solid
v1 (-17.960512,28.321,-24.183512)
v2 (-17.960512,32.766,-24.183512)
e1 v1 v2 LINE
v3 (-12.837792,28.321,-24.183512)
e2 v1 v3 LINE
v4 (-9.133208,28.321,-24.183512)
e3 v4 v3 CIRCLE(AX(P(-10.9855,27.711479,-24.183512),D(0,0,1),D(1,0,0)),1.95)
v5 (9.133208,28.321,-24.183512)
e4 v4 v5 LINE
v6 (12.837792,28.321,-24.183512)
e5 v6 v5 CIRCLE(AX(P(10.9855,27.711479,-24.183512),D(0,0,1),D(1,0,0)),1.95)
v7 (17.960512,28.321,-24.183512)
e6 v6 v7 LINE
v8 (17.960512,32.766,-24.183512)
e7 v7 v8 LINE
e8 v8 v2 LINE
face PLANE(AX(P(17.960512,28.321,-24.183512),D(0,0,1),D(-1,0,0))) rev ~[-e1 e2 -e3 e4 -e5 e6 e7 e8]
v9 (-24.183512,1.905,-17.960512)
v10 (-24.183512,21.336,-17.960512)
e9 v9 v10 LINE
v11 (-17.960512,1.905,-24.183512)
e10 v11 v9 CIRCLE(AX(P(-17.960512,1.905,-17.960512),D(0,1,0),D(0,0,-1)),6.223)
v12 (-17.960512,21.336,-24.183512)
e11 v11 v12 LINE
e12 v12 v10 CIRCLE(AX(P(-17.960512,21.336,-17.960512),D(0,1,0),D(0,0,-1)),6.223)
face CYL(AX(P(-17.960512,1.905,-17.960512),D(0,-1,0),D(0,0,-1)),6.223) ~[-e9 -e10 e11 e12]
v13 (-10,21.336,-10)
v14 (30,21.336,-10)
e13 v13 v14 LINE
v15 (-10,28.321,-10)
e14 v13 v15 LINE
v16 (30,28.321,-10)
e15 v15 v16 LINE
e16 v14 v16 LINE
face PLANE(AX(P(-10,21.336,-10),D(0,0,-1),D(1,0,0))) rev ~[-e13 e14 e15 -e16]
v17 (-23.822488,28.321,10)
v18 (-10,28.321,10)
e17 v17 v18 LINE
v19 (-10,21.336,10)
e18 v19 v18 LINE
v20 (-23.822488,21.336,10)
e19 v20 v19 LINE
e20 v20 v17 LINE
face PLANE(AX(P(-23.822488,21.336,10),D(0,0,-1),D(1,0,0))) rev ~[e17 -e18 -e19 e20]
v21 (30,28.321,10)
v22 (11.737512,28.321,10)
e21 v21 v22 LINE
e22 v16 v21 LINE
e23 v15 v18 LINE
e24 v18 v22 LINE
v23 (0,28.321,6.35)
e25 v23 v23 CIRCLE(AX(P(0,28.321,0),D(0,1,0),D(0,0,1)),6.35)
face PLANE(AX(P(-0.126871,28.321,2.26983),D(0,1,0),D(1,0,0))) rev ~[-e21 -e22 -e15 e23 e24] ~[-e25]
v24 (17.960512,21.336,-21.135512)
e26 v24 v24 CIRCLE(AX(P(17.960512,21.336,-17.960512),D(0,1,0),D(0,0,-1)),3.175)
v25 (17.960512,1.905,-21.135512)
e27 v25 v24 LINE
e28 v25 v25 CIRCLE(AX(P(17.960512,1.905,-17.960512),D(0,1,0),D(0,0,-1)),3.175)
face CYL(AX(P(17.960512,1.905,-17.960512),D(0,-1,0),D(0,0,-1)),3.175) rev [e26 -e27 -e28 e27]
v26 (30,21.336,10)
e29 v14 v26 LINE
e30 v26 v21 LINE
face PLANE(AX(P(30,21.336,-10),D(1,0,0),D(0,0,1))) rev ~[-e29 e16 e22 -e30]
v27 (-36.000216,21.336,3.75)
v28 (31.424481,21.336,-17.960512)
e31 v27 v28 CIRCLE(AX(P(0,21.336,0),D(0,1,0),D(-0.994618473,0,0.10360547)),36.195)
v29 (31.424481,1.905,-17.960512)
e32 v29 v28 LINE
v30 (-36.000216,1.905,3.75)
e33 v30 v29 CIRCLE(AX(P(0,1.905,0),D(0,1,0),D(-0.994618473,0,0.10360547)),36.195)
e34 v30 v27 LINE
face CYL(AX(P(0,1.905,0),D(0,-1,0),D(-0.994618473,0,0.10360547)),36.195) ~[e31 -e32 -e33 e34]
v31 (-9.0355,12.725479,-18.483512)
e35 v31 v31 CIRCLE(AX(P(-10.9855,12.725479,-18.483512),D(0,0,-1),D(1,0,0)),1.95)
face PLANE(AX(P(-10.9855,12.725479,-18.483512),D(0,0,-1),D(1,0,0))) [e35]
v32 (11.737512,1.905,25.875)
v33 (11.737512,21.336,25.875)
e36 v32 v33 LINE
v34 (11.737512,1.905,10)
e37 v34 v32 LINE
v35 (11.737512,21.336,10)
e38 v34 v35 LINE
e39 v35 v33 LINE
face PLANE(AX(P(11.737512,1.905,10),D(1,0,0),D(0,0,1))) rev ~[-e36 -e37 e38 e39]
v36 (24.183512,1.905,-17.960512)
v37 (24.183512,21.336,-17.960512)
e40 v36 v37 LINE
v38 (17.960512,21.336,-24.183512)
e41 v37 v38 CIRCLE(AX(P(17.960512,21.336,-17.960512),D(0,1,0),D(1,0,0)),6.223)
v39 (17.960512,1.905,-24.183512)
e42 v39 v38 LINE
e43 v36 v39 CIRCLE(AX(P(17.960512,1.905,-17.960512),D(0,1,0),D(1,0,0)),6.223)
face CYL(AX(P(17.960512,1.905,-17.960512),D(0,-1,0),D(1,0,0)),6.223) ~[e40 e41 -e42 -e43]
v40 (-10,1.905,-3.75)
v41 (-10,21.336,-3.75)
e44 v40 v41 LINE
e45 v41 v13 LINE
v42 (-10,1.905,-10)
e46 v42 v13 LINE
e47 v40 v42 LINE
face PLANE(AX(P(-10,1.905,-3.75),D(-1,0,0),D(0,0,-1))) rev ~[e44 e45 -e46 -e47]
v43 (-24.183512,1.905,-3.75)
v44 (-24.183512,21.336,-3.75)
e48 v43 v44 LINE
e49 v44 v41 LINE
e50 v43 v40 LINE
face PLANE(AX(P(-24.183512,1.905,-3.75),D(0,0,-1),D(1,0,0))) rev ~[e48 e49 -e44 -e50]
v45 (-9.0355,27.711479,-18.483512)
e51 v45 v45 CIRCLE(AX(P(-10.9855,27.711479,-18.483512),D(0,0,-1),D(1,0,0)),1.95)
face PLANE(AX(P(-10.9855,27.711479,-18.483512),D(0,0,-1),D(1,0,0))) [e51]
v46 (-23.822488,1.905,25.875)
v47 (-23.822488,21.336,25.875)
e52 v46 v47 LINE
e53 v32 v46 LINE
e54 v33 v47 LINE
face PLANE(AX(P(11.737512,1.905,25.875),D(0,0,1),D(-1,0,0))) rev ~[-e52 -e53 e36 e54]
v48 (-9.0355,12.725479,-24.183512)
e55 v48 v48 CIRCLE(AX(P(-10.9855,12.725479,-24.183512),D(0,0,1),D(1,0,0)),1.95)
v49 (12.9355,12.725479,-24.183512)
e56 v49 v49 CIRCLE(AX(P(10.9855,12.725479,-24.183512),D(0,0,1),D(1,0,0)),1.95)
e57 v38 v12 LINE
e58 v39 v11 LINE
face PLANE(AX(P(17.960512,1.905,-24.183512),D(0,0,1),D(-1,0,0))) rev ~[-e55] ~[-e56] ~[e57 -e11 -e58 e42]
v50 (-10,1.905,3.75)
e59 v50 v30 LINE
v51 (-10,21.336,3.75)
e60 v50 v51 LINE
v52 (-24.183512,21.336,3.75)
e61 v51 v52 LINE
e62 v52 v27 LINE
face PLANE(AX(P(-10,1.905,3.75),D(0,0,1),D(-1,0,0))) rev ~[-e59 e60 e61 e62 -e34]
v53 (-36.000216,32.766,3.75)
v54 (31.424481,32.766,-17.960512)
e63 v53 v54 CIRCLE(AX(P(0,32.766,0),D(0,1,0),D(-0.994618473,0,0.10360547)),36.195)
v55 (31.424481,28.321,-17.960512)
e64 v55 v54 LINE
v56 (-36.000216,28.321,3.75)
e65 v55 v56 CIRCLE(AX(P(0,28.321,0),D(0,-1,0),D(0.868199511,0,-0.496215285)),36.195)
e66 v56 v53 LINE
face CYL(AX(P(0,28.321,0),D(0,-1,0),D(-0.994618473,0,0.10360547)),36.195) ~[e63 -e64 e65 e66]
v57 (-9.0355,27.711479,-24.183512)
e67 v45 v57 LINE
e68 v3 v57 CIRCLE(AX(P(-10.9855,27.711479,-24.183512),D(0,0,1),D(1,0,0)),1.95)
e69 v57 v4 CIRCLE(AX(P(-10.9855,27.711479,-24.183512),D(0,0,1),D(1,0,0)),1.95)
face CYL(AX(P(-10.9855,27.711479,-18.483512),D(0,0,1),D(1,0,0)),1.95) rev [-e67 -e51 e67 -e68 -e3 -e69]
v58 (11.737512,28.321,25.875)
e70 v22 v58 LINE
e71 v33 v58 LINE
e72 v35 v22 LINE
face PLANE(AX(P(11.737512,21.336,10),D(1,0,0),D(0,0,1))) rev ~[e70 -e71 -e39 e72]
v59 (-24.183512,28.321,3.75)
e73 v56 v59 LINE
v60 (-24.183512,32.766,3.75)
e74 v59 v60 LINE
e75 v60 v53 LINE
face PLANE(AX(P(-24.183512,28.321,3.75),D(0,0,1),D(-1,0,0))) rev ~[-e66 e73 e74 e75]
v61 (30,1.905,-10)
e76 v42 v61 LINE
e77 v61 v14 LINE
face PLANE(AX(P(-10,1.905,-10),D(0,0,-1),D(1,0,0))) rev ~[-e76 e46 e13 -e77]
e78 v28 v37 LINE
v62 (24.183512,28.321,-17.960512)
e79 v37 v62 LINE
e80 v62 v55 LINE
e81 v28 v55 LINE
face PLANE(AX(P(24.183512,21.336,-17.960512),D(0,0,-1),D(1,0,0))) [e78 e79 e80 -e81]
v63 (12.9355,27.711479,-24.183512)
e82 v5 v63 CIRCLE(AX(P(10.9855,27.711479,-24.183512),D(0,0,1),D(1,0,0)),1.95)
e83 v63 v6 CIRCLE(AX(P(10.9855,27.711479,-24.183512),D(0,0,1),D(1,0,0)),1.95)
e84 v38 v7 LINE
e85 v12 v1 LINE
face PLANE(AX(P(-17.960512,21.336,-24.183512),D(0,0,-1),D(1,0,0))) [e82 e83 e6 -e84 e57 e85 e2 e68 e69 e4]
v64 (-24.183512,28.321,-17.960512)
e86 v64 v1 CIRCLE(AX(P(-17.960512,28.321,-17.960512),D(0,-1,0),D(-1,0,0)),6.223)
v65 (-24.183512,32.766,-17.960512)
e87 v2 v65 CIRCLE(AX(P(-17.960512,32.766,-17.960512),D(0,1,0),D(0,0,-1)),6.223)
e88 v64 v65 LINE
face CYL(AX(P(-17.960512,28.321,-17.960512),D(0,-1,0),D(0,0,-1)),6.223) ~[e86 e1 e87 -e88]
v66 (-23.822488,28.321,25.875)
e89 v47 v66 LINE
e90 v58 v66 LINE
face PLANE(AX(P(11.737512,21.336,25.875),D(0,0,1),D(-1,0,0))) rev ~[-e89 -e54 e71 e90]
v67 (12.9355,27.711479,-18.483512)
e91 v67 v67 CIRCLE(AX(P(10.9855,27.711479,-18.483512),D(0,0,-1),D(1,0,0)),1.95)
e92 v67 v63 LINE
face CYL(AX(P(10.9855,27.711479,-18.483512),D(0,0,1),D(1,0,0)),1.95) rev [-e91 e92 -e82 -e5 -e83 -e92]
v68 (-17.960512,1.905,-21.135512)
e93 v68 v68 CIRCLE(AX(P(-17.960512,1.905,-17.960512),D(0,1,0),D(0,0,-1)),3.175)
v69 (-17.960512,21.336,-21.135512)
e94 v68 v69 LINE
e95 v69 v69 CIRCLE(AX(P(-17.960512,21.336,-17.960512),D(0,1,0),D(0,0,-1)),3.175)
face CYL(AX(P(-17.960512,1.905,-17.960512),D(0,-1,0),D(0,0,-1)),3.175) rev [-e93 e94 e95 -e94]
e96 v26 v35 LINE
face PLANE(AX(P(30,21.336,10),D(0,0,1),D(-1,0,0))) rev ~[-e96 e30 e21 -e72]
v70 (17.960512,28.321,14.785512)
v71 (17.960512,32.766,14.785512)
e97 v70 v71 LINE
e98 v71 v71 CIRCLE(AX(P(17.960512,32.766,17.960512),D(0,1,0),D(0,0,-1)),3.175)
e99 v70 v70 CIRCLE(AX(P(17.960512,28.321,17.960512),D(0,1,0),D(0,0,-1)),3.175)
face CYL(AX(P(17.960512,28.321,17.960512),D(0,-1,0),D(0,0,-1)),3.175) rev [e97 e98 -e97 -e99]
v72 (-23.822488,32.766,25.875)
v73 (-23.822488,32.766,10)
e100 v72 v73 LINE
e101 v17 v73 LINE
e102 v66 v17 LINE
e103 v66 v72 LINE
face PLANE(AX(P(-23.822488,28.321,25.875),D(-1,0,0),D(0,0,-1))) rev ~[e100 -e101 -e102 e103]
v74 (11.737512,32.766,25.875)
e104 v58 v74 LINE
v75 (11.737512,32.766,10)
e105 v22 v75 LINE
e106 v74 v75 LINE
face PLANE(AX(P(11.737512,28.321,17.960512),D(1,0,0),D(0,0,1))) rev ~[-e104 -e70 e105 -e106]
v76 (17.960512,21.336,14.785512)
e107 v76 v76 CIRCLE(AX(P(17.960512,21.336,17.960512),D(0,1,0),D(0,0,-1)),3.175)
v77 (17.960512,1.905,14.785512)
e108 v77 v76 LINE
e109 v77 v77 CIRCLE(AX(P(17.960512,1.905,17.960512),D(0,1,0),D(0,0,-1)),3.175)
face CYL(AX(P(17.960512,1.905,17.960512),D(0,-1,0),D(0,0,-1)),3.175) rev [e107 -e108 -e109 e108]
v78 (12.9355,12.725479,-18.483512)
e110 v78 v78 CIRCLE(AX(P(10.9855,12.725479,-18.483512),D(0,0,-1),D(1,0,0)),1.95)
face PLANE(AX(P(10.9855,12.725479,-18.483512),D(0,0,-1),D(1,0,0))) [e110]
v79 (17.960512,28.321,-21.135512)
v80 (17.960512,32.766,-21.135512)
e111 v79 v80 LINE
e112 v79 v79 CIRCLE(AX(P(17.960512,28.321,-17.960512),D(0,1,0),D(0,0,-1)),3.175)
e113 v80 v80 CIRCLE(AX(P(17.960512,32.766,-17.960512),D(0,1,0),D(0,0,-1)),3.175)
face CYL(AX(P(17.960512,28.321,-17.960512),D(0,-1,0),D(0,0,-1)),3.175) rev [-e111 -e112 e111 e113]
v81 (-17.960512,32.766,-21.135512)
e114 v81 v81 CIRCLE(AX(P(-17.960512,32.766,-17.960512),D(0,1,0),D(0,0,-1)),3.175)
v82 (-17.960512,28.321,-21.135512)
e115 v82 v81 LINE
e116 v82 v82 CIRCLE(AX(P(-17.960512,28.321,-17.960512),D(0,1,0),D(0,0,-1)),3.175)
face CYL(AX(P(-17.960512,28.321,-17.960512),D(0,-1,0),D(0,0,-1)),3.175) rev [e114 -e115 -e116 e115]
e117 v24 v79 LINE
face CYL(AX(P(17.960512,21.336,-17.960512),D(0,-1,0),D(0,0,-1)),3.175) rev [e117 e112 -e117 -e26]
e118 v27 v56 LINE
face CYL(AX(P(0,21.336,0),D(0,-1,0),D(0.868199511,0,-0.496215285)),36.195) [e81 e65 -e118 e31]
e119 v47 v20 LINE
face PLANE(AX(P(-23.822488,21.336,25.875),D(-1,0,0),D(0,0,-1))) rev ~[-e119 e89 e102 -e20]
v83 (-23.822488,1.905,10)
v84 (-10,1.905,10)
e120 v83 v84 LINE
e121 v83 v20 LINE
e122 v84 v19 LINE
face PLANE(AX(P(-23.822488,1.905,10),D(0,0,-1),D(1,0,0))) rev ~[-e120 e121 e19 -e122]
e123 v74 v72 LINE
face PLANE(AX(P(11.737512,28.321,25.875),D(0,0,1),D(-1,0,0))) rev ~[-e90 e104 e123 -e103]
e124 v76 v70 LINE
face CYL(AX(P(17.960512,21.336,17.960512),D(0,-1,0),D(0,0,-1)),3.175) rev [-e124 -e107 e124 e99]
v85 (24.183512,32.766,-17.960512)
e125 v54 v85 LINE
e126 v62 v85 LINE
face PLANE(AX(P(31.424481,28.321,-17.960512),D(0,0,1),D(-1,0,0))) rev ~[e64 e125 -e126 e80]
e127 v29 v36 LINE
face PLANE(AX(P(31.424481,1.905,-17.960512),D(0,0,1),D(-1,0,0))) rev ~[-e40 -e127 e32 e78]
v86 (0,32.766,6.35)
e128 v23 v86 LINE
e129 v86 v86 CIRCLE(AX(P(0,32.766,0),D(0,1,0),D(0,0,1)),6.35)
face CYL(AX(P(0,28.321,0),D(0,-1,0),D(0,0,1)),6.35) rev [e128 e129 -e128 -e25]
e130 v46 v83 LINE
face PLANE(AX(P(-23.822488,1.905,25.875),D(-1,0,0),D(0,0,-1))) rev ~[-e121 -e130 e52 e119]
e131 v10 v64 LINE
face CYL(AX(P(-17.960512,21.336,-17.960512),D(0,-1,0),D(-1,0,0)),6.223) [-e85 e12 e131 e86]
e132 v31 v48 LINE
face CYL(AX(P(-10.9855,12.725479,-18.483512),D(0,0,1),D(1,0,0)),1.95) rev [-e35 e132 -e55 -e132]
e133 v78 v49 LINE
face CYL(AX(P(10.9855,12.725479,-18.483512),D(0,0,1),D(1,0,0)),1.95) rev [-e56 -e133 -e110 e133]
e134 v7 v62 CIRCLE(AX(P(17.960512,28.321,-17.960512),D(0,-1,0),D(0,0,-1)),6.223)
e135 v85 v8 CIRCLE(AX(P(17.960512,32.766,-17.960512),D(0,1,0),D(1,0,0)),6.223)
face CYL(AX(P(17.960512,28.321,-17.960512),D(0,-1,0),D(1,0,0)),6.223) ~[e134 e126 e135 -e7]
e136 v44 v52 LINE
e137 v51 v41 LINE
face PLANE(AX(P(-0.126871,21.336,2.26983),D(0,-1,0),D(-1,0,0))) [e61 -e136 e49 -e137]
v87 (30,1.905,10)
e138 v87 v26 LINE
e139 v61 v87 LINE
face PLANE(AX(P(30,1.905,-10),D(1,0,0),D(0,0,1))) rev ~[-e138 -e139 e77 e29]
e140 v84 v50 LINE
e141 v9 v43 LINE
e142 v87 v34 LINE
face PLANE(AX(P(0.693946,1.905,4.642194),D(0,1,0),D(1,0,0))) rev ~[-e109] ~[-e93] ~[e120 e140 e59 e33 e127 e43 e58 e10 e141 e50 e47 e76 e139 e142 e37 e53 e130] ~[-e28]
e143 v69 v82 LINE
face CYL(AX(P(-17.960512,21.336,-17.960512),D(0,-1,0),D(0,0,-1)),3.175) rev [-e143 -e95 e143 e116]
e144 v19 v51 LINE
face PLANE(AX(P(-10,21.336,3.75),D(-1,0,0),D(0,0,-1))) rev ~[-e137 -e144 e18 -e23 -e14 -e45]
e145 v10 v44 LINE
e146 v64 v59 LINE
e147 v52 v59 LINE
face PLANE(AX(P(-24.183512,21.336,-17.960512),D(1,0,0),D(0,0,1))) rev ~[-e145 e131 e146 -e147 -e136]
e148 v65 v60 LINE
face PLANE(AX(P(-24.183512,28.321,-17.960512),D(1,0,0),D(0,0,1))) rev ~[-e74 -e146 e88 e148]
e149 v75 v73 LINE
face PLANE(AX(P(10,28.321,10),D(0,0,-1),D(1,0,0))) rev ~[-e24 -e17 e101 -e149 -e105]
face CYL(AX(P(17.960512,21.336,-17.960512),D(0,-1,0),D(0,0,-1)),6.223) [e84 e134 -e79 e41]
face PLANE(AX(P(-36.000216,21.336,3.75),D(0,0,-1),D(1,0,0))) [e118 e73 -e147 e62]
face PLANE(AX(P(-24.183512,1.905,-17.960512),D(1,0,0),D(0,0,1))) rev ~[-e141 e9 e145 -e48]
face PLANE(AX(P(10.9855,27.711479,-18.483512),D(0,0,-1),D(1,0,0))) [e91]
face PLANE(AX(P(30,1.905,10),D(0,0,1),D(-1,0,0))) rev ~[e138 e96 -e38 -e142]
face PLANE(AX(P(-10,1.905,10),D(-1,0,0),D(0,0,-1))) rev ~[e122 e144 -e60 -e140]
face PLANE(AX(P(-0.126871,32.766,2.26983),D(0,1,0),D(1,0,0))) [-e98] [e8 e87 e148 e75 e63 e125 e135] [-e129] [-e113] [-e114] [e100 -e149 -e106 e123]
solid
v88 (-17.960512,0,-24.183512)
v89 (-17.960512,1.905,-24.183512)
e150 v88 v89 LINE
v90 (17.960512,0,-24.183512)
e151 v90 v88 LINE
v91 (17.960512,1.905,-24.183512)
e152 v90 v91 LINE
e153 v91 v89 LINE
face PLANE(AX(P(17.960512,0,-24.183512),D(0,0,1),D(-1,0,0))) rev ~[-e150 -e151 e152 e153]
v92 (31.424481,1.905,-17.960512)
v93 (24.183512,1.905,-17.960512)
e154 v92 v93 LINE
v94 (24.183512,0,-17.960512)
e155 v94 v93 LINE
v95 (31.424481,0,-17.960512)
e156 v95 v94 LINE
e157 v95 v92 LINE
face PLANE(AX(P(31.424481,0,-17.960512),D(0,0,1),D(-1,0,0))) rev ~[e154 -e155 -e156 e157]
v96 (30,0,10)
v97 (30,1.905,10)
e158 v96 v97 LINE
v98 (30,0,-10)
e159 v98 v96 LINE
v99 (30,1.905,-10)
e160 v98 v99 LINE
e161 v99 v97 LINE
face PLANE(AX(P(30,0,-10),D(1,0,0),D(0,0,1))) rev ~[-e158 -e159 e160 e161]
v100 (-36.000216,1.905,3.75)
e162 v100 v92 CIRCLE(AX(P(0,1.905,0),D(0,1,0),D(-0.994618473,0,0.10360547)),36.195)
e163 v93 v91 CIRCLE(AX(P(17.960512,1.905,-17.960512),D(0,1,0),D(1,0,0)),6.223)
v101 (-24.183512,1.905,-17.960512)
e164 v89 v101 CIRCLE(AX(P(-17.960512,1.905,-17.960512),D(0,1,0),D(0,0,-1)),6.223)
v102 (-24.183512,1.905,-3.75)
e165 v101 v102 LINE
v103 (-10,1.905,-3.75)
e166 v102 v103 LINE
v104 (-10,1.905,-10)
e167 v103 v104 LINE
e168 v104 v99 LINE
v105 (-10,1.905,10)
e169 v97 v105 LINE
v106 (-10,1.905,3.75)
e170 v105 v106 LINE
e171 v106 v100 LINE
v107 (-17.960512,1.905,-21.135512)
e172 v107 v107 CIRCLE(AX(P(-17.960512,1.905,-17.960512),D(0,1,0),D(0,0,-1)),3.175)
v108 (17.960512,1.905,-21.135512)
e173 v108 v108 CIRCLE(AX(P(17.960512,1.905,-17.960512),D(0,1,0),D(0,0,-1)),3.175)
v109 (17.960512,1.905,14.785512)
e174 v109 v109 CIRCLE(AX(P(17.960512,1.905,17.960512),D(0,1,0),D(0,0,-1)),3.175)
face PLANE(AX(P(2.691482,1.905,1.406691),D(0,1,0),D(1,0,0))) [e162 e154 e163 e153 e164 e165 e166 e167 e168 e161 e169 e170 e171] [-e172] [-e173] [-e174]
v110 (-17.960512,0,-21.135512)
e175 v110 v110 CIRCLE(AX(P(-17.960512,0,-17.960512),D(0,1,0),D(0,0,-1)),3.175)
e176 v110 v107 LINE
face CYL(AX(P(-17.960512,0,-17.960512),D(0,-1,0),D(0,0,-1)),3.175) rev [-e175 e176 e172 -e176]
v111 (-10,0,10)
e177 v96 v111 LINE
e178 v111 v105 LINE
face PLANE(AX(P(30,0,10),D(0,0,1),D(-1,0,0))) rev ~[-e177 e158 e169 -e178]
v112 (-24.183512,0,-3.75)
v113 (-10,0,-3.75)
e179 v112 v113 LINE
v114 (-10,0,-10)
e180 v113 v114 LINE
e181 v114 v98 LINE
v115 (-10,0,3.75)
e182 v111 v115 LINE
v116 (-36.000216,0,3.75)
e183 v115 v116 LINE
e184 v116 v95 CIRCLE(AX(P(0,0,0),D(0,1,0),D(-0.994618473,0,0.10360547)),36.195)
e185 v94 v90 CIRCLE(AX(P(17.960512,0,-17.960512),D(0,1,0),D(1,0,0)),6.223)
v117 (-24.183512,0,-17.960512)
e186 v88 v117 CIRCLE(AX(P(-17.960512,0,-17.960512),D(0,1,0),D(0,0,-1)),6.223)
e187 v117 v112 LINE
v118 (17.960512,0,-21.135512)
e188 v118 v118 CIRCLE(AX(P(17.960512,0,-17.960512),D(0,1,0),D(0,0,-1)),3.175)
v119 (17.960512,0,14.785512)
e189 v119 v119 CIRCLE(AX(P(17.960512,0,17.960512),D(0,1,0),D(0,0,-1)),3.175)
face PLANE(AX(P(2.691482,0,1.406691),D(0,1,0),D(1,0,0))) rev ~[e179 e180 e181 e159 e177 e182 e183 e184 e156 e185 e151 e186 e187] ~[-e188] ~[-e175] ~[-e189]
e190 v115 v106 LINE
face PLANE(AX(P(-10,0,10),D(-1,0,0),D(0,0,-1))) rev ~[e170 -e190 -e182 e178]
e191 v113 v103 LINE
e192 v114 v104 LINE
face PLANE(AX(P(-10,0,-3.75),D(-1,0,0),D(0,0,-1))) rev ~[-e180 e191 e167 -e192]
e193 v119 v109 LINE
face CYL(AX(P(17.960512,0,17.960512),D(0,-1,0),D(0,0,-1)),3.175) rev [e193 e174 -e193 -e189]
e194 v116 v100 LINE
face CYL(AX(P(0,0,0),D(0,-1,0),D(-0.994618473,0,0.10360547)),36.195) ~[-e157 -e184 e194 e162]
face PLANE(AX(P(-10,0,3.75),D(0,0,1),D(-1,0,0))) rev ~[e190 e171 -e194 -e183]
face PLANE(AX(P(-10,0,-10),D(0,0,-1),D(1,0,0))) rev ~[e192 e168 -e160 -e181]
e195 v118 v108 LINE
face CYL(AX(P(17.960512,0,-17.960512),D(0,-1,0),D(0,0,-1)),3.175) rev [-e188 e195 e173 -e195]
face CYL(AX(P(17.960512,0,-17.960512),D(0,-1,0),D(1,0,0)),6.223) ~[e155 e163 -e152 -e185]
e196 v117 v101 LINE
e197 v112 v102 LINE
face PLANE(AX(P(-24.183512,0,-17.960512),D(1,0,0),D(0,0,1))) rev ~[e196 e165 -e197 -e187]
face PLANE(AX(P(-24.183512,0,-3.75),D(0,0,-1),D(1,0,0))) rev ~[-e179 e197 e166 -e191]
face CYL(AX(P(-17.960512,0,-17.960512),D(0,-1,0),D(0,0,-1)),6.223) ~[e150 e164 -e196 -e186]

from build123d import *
from build123d.topology import SkipClean

# Parameters (mm, degrees)
SKETCH2_R               = 3.175
BOSS_EXTRUDE1_DEPTH     = 1.905
SKETCH3_R               = 3.175
BOSS_EXTRUDE2_DEPTH     = 19.431
SKETCH4_R               = 3.175
BOSS_EXTRUDE3_DEPTH     = 6.985
SKETCH5_R               = 6.35
SKETCH5_R_2             = 3.175
BOSS_EXTRUDE4_DEPTH     = 4.445
CUT_EXTRUDE1_DEPTH      = 78.648267988
CUT_EXTRUDE1_DEPTH_BACK = 5.7
SKETCH6_R               = 1.95


with BuildPart() as part:
    # Sketch2 → Boss-Extrude1 (new body)
    with BuildSketch(Plane(origin=(0, 0, 0), x_dir=(1, 0, 0), z_dir=(0, 1, 0))):
        with BuildLine():
            Line((-24.183512242, 17.960512242), (-24.183512242, 3.75))
            Line((-24.183512242, 3.75), (-10, 3.75))
            Line((-10, 3.75), (-10, 10))
            Line((-10, 10), (30, 10))
            Line((30, 10), (30, -10))
            Line((30, -10), (11.737512242, -10))
            Line((11.737512242, -10), (10, -10))
            Line((10, -10), (0, -10))
            Line((0, -10), (-10, -10))
            Line((-10, -10), (-10, -3.75))
            Line((-10, -3.75), (-24.183512242, -3.75))
            Line((-24.183512242, -3.75), (-36.000215624, -3.75))
            ThreePointArc((-36.000215624, -3.75), (11.093733439, -34.452969442), (31.4244813, 17.960512242))
            Line((31.4244813, 17.960512242), (24.183512242, 17.960512242))
            ThreePointArc((24.183512242, 17.960512242), (22.360837741, 22.360837741), (17.960512242, 24.183512242))
            Line((17.960512242, 24.183512242), (-17.960512242, 24.183512242))
            ThreePointArc((-17.960512242, 24.183512242), (-22.360837741, 22.360837741), (-24.183512242, 17.960512242))
        make_face()
        with Locations(Location((-17.960512242, 17.960512242, 0), (0, 0, 90))):
            Circle(SKETCH2_R, mode=Mode.SUBTRACT)
        with Locations(Location((17.960512242, 17.960512242, 0), (0, 0, 90))):
            Circle(SKETCH2_R, mode=Mode.SUBTRACT)
        with Locations(Location((17.960512242, -17.960512242, 0), (0, 0, 90))):
            Circle(SKETCH2_R, mode=Mode.SUBTRACT)
    extrude(amount=BOSS_EXTRUDE1_DEPTH)


with BuildPart() as body_2:
    # Sketch3 → Boss-Extrude2 (new body)
    with BuildSketch(Plane(origin=(0, 1.905, 0), x_dir=(1, 0, 0), z_dir=(0, 1, 0))):
        with BuildLine():
            Line((-23.822487758, -25.875), (-23.822487758, -10))
            Line((-23.822487758, -10), (-17.960512242, -10))
            Line((-17.960512242, -10), (-10, -10))
            Line((-10, -10), (-10, -3.75))
            Line((-10, -3.75), (-36.000215624, -3.75))
            ThreePointArc((-36.000215624, -3.75), (11.093733439, -34.452969442), (31.4244813, 17.960512242))
            Line((31.4244813, 17.960512242), (24.183512242, 17.960512242))
            ThreePointArc((24.183512242, 17.960512242), (22.360837741, 22.360837741), (17.960512242, 24.183512242))
            Line((17.960512242, 24.183512242), (-17.960512242, 24.183512242))
            ThreePointArc((-17.960512242, 24.183512242), (-22.360837741, 22.360837741), (-24.183512242, 17.960512242))
            Line((-24.183512242, 17.960512242), (-24.183512242, 3.75))
            Line((-24.183512242, 3.75), (-10, 3.75))
            Line((-10, 3.75), (-10, 10))
            Line((-10, 10), (30, 10))
            Line((30, 10), (30, -10))
            Line((30, -10), (11.737512242, -10))
            Line((11.737512242, -10), (11.737512242, -11.737512242))
            Line((11.737512242, -11.737512242), (11.737512242, -17.960512242))
            Line((11.737512242, -17.960512242), (11.737512242, -25.875))
            Line((11.737512242, -25.875), (-23.822487758, -25.875))
        make_face()
        with Locations(Location((17.960512242, -17.960512242, 0), (0, 0, 90))):
            Circle(SKETCH3_R, mode=Mode.SUBTRACT)
        with Locations(Location((-17.960512242, 17.960512242, 0), (0, 0, 90))):
            Circle(SKETCH3_R, mode=Mode.SUBTRACT)
        with Locations(Location((17.960512242, 17.960512242, 0), (0, 0, 90))):
            Circle(SKETCH3_R, mode=Mode.SUBTRACT)
    extrude(amount=BOSS_EXTRUDE2_DEPTH)

    # Sketch4 → Boss-Extrude3 (add)
    with SkipClean():  # the faces are left unmerged after this step: merging them gives an invalid solid
        with BuildSketch(Plane(origin=(0, 21.336, 0), x_dir=(1, 0, 0), z_dir=(0, 1, 0))):
            with BuildLine():
                Line((-24.183512242, -3.75), (-24.183512242, 3.75))
                Line((-24.183512242, 3.75), (-24.183512242, 17.960512242))
                ThreePointArc((-24.183512242, 17.960512242), (-22.360837741, 22.360837741), (-17.960512242, 24.183512242))
                Line((-17.960512242, 24.183512242), (17.960512242, 24.183512242))
                ThreePointArc((17.960512242, 24.183512242), (22.360837741, 22.360837741), (24.183512242, 17.960512242))
                Line((24.183512242, 17.960512242), (31.4244813, 17.960512242))
                ThreePointArc((31.4244813, 17.960512242), (11.093733439, -34.452969442), (-36.000215624, -3.75))
                Line((-36.000215624, -3.75), (-24.183512242, -3.75))
            make_face()
            with Locations(Location((17.960512242, -17.960512242, 0), (0, 0, 90))):
                Circle(SKETCH4_R, mode=Mode.SUBTRACT)
            with Locations(Location((17.960512242, 17.960512242, 0), (0, 0, 90))):
                Circle(SKETCH4_R, mode=Mode.SUBTRACT)
            with Locations(Location((-17.960512242, 17.960512242, 0), (0, 0, 90))):
                Circle(SKETCH4_R, mode=Mode.SUBTRACT)
            Polygon((-10, -3.75), (-10, 0), (-10, 3.75), (-10, 10), (30, 10), (30, -10), (11.737512242, -10), (11.737512242, -25.875), (-23.822487758, -25.875), (-23.822487758, -10), (-10, -10), align=None, mode=Mode.SUBTRACT)
        extrude(amount=BOSS_EXTRUDE3_DEPTH)

    # Sketch5 → Boss-Extrude4 (add)
    with SkipClean():  # the faces are left unmerged after this step: merging them gives an invalid solid
        with BuildSketch(Plane(origin=(0, 28.321, 0), x_dir=(1, 0, 0), z_dir=(0, 1, 0))):
            with BuildLine():
                Line((-24.183512242, 17.960512242), (-24.183512242, -3.75))
                Line((-24.183512242, -3.75), (-36.000215624, -3.75))
                ThreePointArc((-36.000215624, -3.75), (11.093733439, -34.452969442), (31.4244813, 17.960512242))
                Line((31.4244813, 17.960512242), (24.183512242, 17.960512242))
                ThreePointArc((24.183512242, 17.960512242), (22.360837741, 22.360837741), (17.960512242, 24.183512242))
                Line((17.960512242, 24.183512242), (-17.960512242, 24.183512242))
                ThreePointArc((-17.960512242, 24.183512242), (-22.360837741, 22.360837741), (-24.183512242, 17.960512242))
            make_face()
            with Locations(Location((0, 0, 0), (0, 0, 270))):
                Circle(SKETCH5_R, mode=Mode.SUBTRACT)
            with Locations(Location((17.960512242, -17.960512242, 0), (0, 0, 90))):
                Circle(SKETCH5_R_2, mode=Mode.SUBTRACT)
            with Locations(Location((17.960512242, 17.960512242, 0), (0, 0, 90))):
                Circle(SKETCH5_R_2, mode=Mode.SUBTRACT)
            with Locations(Location((-17.960512242, 17.960512242, 0), (0, 0, 90))):
                Circle(SKETCH5_R_2, mode=Mode.SUBTRACT)
            Polygon((11.737512242, -25.875), (-23.822487758, -25.875), (-23.822487758, -10), (-17.960512242, -10), (-10, -10), (0, -10), (10, -10), (11.737512242, -10), (11.737512242, -11.737512242), (11.737512242, -17.960512242), align=None, mode=Mode.SUBTRACT)
        extrude(amount=BOSS_EXTRUDE4_DEPTH)

    # Sketch6 → Cut-Extrude1 (cut, two sides: drawn at the far end of the back side and taken through both)
    with SkipClean():  # the faces are left unmerged after this step: merging them gives an invalid solid
        with BuildSketch(Plane(origin=(0, 0, -24.183512242), x_dir=(-1, 0, 0), z_dir=(0, 0, -1)).offset(-CUT_EXTRUDE1_DEPTH_BACK)):
            with Locations(Location((-10.9855, 27.711479032, 0), (0, 0, 180))):
                Circle(SKETCH6_R)
            with Locations(Location((10.9855, 27.711479032, 0), (0, 0, 180))):
                Circle(SKETCH6_R)
            with Locations(Location((10.9855, 12.725479032, 0), (0, 0, 180))):
                Circle(SKETCH6_R)
            with Locations(Location((-10.9855, 12.725479032, 0), (0, 0, 180))):
                Circle(SKETCH6_R)
        extrude(amount=CUT_EXTRUDE1_DEPTH + CUT_EXTRUDE1_DEPTH_BACK, mode=Mode.SUBTRACT)


solid = Compound([part.part, body_2.part])
